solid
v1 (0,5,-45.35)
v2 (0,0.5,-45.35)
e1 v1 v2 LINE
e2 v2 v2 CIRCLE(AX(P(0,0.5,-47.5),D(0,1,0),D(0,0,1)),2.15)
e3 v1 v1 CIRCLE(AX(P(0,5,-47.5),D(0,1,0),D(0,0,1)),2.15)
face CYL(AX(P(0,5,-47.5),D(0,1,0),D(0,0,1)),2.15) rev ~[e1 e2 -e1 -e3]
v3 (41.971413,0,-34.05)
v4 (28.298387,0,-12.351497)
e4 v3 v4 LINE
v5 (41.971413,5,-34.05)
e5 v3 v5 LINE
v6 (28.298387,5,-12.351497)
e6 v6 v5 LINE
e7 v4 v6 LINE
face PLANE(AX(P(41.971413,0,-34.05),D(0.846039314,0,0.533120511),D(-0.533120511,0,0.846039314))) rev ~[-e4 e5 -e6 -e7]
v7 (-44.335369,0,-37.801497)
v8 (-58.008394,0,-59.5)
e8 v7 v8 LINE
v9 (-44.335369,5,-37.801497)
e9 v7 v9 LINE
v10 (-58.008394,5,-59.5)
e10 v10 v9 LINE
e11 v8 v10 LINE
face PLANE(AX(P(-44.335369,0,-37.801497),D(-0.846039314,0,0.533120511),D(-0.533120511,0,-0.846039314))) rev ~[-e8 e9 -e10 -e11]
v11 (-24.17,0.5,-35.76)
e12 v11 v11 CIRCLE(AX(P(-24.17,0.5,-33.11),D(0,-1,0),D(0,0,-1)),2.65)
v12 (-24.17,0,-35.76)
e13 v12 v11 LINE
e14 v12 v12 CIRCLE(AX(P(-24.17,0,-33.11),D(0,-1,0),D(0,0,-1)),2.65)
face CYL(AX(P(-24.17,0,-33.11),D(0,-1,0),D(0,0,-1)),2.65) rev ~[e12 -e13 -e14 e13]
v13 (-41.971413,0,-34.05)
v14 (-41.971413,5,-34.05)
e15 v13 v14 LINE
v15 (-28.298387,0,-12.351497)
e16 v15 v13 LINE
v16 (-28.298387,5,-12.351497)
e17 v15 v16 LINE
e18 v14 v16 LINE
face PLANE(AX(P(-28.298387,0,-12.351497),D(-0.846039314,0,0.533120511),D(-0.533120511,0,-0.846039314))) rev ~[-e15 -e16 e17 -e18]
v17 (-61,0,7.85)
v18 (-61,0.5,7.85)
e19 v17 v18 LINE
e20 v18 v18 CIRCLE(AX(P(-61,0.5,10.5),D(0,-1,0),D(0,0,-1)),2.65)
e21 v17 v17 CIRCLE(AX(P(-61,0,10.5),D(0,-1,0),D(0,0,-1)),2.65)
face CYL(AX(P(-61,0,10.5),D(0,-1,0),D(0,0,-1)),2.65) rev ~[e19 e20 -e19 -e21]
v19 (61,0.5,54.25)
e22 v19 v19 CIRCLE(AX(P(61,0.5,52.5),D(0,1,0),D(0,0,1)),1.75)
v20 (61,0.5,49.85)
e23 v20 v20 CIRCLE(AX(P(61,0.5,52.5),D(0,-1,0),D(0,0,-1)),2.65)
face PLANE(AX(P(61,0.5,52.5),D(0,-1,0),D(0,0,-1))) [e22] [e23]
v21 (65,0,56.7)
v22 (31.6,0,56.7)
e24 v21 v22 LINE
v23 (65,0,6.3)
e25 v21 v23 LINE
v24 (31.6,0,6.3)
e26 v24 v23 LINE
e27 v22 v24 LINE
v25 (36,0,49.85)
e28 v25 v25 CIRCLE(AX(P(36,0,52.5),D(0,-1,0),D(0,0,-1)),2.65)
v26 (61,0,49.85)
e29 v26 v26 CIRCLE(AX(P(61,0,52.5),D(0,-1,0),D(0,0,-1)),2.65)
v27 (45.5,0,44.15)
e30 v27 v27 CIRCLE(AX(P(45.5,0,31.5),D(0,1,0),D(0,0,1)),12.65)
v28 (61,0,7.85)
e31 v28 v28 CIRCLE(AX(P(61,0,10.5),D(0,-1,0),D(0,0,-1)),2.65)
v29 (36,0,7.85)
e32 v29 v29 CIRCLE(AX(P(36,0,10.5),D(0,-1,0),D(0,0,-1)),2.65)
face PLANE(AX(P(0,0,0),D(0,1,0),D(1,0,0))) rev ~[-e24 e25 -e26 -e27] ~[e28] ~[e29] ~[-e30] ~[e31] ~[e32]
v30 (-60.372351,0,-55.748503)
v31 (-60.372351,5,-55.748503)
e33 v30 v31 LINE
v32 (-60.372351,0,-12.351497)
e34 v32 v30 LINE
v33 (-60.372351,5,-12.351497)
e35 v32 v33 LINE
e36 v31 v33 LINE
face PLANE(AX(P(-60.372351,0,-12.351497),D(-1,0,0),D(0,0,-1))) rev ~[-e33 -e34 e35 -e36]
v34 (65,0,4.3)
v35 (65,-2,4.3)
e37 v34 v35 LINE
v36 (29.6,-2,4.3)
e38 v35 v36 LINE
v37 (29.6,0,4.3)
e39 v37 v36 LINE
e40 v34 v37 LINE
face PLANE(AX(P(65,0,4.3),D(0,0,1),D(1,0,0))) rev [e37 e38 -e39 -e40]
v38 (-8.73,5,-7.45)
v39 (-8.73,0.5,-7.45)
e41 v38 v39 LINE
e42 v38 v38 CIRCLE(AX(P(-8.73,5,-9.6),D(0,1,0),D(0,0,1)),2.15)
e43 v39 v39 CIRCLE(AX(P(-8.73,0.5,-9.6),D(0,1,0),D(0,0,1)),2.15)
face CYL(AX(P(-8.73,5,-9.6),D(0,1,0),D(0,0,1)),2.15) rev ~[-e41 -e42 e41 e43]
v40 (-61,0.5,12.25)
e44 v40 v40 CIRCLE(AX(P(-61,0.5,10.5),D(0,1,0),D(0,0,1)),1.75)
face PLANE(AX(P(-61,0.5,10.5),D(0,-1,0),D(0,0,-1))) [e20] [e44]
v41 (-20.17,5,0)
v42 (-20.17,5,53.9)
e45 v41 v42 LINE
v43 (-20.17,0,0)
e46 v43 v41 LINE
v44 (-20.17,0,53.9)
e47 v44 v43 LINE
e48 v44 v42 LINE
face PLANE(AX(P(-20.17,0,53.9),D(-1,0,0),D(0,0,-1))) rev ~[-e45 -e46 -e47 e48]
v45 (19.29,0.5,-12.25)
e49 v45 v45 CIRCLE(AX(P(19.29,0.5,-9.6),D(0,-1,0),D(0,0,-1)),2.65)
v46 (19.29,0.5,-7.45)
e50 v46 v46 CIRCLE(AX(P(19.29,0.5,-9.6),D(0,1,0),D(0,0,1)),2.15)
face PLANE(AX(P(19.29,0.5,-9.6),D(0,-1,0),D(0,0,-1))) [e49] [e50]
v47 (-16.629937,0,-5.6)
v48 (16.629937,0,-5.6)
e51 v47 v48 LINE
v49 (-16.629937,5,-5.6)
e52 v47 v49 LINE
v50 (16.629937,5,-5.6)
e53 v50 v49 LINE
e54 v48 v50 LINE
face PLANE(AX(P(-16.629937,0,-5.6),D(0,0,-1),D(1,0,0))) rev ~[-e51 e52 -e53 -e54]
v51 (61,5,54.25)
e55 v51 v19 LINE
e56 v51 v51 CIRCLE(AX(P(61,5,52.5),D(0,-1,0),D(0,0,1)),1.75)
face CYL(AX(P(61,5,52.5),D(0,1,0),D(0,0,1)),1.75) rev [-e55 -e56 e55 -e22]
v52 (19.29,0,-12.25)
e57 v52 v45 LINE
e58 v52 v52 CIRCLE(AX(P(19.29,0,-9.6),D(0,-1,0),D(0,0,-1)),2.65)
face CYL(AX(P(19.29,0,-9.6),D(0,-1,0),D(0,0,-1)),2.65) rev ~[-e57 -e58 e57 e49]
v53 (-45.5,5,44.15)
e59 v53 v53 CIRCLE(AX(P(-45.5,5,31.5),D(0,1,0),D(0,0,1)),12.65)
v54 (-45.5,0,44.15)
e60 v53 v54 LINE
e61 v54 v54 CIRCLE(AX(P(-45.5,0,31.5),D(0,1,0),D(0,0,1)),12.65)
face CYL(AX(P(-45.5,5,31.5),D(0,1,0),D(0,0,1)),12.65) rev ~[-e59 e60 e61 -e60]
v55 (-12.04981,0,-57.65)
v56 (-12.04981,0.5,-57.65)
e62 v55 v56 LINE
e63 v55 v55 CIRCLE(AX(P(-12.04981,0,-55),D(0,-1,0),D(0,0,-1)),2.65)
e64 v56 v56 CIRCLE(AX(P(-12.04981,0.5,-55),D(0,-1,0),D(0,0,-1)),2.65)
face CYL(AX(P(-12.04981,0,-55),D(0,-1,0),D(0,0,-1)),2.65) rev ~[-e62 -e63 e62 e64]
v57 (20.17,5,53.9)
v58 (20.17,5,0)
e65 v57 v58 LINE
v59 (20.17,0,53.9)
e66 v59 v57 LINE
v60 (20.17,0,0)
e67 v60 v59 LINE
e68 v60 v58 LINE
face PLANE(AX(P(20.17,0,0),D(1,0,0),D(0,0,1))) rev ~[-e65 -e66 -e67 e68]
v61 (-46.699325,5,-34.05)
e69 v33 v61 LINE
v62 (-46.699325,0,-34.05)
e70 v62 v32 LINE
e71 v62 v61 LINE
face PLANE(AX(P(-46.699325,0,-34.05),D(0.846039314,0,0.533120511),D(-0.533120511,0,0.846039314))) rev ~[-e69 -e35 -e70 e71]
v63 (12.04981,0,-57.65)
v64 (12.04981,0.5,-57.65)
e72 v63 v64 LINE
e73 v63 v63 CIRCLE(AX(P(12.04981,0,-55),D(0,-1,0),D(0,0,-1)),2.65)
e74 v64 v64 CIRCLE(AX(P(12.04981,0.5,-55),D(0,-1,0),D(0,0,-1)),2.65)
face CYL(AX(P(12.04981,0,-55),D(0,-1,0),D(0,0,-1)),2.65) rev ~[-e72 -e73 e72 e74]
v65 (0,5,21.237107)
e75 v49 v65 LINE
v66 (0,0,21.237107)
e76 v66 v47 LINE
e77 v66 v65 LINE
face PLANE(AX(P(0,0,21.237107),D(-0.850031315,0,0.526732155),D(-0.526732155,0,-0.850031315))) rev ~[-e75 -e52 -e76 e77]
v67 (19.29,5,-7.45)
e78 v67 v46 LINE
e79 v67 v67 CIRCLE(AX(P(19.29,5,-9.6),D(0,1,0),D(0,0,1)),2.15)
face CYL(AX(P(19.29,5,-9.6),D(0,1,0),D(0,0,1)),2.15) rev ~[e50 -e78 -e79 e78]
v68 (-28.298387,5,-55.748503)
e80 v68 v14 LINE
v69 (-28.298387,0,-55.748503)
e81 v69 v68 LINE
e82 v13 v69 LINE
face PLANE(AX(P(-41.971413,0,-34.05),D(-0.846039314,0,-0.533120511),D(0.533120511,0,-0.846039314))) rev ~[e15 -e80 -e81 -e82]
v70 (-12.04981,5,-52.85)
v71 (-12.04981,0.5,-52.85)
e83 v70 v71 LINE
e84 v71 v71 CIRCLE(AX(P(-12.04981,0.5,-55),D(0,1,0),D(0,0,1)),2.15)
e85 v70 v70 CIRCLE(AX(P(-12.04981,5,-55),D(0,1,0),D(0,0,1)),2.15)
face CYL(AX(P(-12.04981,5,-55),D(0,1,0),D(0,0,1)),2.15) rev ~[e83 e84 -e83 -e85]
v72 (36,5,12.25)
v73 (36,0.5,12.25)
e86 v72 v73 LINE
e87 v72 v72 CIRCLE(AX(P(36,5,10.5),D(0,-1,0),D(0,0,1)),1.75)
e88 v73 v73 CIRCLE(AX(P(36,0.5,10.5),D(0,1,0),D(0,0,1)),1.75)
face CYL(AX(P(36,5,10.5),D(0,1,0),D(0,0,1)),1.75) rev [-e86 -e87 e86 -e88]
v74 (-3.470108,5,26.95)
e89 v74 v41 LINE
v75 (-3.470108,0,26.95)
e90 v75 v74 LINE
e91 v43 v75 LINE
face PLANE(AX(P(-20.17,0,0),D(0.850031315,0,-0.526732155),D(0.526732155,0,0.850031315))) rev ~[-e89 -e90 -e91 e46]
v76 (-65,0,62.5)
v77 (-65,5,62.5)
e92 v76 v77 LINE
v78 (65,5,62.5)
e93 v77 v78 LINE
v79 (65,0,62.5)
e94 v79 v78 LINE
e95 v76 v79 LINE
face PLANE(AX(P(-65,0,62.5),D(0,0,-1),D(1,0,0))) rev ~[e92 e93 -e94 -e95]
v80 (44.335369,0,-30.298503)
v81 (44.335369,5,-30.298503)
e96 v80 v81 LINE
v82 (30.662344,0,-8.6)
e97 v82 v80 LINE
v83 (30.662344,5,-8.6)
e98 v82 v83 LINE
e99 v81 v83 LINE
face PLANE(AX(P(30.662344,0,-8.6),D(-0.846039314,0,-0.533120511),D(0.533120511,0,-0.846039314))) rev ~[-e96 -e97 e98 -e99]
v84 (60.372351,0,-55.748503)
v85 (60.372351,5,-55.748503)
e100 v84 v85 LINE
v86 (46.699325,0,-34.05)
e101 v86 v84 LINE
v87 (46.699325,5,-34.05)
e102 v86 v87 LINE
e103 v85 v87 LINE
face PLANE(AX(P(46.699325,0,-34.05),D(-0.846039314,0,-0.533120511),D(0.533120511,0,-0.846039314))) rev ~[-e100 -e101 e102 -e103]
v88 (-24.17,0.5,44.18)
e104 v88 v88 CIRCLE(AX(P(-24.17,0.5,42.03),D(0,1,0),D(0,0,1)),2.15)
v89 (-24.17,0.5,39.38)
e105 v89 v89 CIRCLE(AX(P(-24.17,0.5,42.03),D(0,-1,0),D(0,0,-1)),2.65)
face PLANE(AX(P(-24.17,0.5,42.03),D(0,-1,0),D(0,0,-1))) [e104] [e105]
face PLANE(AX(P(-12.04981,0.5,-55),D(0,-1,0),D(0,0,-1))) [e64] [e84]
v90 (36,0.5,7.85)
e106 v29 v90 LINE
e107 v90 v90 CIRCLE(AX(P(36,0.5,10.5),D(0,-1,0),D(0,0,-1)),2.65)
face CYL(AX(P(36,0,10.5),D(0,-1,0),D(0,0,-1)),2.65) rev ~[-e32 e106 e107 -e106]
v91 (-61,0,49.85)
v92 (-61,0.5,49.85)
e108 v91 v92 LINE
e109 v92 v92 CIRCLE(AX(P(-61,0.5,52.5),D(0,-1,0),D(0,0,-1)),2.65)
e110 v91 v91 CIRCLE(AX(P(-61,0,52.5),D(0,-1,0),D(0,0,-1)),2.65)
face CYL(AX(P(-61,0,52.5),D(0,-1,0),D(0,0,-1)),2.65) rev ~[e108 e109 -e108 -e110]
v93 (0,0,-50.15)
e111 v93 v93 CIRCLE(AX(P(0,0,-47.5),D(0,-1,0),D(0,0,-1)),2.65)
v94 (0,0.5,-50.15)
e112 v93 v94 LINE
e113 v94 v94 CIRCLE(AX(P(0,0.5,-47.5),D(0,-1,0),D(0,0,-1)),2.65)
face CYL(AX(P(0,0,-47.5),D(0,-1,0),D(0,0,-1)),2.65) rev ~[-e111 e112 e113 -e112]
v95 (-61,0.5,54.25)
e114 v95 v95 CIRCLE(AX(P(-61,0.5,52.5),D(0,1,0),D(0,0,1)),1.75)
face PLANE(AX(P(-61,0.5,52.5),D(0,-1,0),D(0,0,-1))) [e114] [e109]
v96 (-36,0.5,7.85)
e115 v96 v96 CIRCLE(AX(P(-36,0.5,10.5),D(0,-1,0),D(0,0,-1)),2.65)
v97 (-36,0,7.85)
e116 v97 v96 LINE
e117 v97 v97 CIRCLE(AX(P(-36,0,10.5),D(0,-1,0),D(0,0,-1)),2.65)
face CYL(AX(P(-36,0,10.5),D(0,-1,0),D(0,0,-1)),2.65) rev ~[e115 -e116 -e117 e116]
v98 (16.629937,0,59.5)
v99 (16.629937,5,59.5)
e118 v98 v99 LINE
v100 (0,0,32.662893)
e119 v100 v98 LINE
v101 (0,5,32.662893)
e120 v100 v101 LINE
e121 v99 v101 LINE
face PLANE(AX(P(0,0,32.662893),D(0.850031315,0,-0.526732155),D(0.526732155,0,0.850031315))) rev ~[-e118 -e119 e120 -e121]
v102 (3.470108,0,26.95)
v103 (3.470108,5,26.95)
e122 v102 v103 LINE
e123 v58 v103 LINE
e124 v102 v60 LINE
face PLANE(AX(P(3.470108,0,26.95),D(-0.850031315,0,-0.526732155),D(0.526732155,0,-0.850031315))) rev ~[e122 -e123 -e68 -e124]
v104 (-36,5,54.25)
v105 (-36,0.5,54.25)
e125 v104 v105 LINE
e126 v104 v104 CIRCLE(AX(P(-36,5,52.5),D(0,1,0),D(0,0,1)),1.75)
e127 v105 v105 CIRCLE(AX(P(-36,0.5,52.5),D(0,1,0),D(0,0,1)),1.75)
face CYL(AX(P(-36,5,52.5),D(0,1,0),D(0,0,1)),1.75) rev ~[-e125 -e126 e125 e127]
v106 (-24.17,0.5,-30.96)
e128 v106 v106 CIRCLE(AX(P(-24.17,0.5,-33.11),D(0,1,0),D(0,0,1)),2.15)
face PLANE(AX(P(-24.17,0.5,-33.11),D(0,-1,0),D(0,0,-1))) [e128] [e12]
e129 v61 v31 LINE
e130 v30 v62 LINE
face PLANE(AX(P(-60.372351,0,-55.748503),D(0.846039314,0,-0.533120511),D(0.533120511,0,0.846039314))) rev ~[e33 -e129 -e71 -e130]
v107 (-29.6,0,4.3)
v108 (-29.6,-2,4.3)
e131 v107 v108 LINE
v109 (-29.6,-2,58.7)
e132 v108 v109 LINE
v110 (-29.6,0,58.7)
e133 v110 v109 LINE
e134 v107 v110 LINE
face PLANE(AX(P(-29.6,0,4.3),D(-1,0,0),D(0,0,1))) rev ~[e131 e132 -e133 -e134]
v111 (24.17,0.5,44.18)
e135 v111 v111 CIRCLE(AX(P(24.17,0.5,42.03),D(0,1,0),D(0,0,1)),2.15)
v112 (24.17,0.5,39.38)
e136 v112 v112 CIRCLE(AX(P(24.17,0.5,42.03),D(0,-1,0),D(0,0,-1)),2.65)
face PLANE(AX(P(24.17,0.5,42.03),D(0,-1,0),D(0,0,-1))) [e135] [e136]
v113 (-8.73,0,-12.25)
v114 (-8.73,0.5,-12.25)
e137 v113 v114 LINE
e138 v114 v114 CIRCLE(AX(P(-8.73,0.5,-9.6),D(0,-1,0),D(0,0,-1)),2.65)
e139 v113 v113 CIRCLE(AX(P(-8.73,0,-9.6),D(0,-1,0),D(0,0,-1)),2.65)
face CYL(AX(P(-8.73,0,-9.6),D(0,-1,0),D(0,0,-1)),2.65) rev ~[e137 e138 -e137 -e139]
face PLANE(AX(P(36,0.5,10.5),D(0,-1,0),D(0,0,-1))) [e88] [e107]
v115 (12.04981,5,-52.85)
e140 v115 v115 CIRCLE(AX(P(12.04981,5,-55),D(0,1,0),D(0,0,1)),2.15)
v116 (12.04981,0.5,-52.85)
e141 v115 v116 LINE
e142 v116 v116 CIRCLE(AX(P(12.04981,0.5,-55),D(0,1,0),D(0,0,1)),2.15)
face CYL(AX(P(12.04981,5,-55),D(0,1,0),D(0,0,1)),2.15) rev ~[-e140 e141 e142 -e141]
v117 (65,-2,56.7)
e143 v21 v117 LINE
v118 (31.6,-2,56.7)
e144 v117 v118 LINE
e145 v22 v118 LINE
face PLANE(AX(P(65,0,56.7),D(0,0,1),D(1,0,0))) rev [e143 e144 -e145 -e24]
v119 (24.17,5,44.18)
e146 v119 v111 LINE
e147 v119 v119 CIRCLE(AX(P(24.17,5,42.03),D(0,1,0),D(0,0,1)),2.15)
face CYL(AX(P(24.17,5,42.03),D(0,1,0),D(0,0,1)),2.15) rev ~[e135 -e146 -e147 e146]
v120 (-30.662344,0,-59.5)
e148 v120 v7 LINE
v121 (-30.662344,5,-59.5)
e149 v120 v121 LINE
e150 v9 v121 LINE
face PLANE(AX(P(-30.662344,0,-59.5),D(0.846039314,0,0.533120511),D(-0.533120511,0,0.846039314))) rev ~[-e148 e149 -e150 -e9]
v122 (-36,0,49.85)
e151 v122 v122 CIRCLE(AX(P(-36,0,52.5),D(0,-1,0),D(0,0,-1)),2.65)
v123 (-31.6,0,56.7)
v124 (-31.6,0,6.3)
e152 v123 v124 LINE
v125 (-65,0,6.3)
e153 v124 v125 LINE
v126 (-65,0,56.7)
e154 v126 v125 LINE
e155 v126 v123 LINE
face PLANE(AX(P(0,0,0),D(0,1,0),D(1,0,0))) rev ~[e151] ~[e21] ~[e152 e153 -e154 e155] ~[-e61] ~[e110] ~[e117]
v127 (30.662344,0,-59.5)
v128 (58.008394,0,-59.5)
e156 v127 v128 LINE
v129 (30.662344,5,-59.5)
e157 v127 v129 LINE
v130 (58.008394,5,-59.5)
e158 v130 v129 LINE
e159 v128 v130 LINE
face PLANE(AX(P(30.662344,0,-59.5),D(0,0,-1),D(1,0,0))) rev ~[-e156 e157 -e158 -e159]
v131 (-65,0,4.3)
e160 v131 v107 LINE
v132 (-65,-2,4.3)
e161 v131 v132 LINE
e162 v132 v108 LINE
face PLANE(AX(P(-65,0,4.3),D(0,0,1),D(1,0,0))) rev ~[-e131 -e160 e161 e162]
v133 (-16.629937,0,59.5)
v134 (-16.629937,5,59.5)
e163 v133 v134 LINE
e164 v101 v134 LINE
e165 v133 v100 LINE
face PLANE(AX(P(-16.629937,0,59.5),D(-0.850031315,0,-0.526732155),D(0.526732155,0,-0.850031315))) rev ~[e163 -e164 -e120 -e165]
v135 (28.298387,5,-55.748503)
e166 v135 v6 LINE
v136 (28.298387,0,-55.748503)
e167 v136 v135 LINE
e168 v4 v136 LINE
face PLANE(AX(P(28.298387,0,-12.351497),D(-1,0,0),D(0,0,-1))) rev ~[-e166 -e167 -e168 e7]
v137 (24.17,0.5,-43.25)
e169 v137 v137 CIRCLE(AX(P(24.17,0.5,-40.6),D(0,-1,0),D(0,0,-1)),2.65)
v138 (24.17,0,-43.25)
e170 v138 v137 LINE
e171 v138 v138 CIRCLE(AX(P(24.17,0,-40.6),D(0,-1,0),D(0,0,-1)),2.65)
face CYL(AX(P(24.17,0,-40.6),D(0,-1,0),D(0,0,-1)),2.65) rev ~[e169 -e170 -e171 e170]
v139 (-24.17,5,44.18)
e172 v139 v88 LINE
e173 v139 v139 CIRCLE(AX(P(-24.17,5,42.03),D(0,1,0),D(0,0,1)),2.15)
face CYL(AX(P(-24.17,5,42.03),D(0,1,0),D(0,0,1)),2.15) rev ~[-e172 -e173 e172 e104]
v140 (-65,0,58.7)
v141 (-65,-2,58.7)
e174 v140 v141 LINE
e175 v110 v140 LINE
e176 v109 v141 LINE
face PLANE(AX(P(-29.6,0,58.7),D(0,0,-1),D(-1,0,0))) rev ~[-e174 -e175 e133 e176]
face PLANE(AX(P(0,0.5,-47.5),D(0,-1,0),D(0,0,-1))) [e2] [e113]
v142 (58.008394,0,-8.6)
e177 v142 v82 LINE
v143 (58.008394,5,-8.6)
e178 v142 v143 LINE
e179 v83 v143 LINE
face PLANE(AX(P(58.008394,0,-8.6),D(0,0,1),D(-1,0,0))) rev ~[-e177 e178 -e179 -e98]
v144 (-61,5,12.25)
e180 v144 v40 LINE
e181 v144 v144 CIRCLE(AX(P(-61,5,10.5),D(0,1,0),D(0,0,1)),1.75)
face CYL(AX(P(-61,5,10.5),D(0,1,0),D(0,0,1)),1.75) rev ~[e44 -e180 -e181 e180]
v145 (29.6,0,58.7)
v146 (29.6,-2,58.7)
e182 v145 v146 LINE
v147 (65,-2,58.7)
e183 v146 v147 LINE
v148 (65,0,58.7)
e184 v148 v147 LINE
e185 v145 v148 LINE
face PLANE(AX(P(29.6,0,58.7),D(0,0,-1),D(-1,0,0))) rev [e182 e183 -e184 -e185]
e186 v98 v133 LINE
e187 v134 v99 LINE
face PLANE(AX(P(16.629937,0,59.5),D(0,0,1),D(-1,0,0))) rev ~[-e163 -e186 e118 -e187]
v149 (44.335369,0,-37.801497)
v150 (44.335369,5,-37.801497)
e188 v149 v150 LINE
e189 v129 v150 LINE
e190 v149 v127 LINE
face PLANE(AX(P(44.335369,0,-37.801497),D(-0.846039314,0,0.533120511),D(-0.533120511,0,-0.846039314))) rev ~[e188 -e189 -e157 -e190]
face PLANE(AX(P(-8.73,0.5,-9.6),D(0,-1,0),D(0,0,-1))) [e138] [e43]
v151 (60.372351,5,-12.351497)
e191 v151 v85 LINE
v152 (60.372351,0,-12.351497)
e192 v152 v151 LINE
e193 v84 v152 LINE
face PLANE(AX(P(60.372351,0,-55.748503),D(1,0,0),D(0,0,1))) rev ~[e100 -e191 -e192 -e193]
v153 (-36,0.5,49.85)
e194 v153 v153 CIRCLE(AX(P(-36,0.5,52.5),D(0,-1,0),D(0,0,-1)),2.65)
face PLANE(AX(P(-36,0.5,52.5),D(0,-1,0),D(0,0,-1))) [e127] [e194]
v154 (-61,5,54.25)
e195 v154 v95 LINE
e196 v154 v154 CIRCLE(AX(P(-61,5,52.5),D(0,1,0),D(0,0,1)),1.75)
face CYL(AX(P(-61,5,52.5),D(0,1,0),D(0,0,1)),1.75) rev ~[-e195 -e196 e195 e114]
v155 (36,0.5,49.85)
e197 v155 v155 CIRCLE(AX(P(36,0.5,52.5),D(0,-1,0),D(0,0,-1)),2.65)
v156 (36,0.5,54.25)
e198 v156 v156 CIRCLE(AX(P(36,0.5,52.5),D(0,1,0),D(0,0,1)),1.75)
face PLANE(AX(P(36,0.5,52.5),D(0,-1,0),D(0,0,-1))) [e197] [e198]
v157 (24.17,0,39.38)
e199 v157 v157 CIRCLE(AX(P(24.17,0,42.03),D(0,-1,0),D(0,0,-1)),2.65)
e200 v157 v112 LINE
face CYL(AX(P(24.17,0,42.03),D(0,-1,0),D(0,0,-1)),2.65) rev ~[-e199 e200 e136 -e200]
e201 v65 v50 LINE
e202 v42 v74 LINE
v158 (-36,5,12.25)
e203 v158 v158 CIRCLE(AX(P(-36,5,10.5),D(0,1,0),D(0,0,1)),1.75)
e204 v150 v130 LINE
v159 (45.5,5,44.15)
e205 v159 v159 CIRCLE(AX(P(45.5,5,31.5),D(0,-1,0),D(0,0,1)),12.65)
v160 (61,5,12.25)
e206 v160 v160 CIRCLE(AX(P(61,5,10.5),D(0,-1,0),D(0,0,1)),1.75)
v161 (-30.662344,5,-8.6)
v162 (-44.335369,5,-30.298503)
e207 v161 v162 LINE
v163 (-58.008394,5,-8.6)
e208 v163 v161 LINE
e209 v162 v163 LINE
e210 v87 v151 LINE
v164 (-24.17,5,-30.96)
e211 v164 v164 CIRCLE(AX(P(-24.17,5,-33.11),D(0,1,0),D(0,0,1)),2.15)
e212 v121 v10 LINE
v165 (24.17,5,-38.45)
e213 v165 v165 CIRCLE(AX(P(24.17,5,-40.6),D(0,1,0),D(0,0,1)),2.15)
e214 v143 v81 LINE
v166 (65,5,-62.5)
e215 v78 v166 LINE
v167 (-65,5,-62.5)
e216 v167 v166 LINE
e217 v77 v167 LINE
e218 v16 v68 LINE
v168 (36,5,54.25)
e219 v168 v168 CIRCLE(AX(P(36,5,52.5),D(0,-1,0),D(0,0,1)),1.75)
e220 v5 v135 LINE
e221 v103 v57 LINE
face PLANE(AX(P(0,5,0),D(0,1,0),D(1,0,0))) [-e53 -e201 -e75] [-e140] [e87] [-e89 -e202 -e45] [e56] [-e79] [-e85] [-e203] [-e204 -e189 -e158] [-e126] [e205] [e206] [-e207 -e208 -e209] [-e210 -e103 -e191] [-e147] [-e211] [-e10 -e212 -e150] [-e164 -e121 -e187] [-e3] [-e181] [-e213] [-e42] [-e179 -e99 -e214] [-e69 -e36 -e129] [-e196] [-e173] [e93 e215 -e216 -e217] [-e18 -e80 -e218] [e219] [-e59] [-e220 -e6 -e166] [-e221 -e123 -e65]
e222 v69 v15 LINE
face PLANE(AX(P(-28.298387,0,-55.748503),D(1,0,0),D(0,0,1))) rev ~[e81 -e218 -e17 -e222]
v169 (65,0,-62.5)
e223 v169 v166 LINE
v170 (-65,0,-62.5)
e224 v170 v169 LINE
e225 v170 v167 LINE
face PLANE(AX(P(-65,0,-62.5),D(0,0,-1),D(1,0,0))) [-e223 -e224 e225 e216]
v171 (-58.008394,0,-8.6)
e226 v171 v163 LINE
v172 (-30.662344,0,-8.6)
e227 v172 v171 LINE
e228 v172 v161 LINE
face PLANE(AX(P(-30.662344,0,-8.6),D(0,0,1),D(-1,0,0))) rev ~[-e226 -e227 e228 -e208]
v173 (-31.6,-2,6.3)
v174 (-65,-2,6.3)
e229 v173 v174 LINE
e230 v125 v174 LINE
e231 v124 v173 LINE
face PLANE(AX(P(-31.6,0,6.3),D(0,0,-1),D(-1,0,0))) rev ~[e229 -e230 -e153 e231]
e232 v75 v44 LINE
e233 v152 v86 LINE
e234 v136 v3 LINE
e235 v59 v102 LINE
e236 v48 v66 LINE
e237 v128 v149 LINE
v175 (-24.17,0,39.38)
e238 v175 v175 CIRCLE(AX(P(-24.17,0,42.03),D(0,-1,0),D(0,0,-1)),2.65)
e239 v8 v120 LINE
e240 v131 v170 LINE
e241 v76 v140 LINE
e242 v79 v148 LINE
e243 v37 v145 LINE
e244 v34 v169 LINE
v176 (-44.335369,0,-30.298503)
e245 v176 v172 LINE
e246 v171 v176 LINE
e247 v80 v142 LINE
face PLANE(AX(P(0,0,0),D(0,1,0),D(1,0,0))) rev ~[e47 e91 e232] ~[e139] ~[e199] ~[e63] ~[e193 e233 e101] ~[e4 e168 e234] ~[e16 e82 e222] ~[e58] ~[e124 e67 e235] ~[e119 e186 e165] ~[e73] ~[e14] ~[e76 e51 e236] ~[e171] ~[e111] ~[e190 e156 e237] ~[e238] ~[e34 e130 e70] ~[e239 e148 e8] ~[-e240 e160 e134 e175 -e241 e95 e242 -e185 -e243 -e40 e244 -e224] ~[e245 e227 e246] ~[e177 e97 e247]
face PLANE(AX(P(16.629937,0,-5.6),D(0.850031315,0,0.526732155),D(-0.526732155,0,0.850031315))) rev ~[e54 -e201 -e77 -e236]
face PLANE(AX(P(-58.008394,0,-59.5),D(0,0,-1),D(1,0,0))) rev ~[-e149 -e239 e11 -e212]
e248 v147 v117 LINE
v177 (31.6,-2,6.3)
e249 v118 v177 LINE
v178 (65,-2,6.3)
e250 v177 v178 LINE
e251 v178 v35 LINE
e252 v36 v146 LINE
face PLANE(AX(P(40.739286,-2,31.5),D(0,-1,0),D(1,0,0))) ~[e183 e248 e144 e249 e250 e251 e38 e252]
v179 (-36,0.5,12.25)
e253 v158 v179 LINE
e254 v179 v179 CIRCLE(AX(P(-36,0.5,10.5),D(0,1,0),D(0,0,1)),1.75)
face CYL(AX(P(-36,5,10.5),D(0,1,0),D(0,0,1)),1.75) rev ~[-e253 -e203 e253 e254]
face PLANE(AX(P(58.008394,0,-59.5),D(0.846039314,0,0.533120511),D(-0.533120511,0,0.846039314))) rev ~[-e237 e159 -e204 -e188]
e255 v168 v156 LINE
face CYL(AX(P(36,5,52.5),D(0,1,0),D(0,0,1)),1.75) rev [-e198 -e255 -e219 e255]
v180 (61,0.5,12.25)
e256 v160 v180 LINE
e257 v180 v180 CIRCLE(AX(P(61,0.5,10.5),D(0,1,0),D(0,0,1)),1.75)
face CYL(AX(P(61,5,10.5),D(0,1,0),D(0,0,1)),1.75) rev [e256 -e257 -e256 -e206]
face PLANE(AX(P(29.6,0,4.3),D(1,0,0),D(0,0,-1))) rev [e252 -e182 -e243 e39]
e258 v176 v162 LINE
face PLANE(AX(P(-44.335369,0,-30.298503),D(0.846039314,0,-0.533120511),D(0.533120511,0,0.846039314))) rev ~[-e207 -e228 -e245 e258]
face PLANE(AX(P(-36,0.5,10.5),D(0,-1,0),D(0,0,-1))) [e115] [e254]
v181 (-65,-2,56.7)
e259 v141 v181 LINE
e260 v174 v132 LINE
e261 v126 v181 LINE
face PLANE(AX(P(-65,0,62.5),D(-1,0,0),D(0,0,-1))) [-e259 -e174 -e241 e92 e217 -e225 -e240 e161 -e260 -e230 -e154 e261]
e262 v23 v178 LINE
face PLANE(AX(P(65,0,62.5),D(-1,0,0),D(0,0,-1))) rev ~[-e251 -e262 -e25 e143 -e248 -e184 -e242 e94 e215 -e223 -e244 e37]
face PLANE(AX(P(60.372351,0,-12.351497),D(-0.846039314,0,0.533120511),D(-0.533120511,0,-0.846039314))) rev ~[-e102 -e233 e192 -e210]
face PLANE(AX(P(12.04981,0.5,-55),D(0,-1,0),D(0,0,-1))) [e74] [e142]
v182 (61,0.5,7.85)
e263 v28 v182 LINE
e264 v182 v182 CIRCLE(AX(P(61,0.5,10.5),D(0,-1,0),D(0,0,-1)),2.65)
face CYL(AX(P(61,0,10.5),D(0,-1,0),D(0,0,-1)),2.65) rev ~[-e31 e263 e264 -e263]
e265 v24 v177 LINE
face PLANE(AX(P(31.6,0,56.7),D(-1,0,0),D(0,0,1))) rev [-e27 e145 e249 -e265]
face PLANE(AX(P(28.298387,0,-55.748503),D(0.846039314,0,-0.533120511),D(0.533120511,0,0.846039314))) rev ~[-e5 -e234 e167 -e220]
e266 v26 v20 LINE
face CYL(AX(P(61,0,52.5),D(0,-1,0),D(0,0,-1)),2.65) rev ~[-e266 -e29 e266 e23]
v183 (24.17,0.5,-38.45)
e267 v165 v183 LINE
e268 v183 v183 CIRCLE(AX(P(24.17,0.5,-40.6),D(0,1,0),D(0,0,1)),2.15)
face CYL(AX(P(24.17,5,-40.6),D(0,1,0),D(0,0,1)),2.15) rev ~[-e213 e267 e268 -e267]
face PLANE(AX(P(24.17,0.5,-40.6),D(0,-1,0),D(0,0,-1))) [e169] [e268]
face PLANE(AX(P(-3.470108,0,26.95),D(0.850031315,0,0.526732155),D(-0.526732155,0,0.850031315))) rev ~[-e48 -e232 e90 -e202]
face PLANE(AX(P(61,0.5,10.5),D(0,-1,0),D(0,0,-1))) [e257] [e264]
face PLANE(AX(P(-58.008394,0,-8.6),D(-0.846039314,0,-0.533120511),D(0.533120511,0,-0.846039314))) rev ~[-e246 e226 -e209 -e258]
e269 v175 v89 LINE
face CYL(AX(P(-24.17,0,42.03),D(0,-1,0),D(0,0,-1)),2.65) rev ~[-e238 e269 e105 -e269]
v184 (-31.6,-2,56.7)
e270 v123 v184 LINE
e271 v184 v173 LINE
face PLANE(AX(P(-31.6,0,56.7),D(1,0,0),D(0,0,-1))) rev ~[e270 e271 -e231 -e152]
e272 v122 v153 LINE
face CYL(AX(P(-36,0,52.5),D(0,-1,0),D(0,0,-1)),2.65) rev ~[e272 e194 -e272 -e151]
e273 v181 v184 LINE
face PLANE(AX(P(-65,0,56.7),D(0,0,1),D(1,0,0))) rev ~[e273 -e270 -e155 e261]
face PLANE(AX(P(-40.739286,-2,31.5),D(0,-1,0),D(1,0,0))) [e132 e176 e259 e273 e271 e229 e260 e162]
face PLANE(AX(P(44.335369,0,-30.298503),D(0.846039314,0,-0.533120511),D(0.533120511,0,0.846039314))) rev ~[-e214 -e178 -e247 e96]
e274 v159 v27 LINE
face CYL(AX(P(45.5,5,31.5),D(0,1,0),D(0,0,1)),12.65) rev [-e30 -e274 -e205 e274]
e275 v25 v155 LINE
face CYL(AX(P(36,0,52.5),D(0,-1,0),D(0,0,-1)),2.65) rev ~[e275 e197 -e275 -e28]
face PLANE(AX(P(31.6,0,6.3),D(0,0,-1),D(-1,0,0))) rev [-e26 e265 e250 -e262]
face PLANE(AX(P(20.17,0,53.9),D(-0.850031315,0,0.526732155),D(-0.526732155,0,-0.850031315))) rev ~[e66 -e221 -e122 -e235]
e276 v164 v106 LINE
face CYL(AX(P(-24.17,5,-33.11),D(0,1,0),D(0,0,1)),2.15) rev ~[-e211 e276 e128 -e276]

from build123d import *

# Parameters (mm, degrees)
SKETCH1_W           = 130
SKETCH1_H           = 125
BOSS_EXTRUDE1_DEPTH = 5
SKETCH2_R           = 1.75
SKETCH2_R_2         = 12.65
CUT_EXTRUDE1_DEPTH  = 10
SKETCH3_R           = 2.15
CUT_EXTRUDE2_DEPTH  = 10
SKETCH4_R           = 2.15
CUT_EXTRUDE3_DEPTH  = 10
BOSS_EXTRUDE2_DEPTH = 2
SKETCH6_R           = 2.65
CUT_EXTRUDE4_DEPTH  = 0.5
CUT_EXTRUDE5_DEPTH  = 91.311959341
CUT_EXTRUDE6_DEPTH  = 91.311959341


with BuildPart() as part:
    # Sketch1 → Boss-Extrude1 (new body)
    with BuildSketch(Plane(origin=(0, 0, 0), x_dir=(1, 0, 0), z_dir=(0, 1, 0))):
        Rectangle(SKETCH1_W, SKETCH1_H)
    extrude(amount=BOSS_EXTRUDE1_DEPTH)

    # Sketch2 → Cut-Extrude1 (cut)
    with BuildSketch(Plane(origin=(0, 5, 0), x_dir=(1, 0, 0), z_dir=(0, 1, 0))):
        with Locations(Location((-61, -52.5, 0), (0, 0, 270))):
            Circle(SKETCH2_R)
        with Locations(Location((-36, -52.5, 0), (0, 0, 270))):
            Circle(SKETCH2_R)
        with Locations(Location((-36, -10.5, 0), (0, 0, 270))):
            Circle(SKETCH2_R)
        with Locations(Location((-61, -10.5, 0), (0, 0, 270))):
            Circle(SKETCH2_R)
        with Locations(Location((-45.5, -31.5, 0), (0, 0, 270))):
            Circle(SKETCH2_R_2)
    cut_extrude1 = extrude(amount=-CUT_EXTRUDE1_DEPTH, mode=Mode.SUBTRACT)

    # Mirror3: Cut-Extrude1 across plane
    add(cut_extrude1.mirror(Plane.ZY), mode=Mode.SUBTRACT)

    # Sketch3 → Cut-Extrude2 (cut)
    with BuildSketch(Plane(origin=(0, 5, 0), x_dir=(1, 0, 0), z_dir=(0, 1, 0))):
        with Locations(Location((-24.17, -42.03, 0), (0, 0, 270))):
            Circle(SKETCH3_R)
        with Locations(Location((24.17, -42.03, 0), (0, 0, 270))):
            Circle(SKETCH3_R)
        with Locations(Location((-8.73, 9.6, 0), (0, 0, 270))):
            Circle(SKETCH3_R)
        with Locations(Location((19.29, 9.6, 0), (0, 0, 270))):
            Circle(SKETCH3_R)
        with Locations(Location((-24.17, 33.11, 0), (0, 0, 270))):
            Circle(SKETCH3_R)
        with Locations(Location((24.17, 40.6, 0), (0, 0, 270))):
            Circle(SKETCH3_R)
    extrude(amount=-CUT_EXTRUDE2_DEPTH, mode=Mode.SUBTRACT)

    # Sketch4 → Cut-Extrude3 (cut)
    with BuildSketch(Plane(origin=(0, 5, 0), x_dir=(1, 0, 0), z_dir=(0, 1, 0))):
        with Locations(Location((0, 47.5, 0), (0, 0, 270))):
            Circle(SKETCH4_R)
        with Locations(Location((12.049810205, 55, 0), (0, 0, 270))):
            Circle(SKETCH4_R)
        with Locations(Location((-12.049810205, 55, 0), (0, 0, 270))):
            Circle(SKETCH4_R)
    extrude(amount=-CUT_EXTRUDE3_DEPTH, mode=Mode.SUBTRACT)

    # Sketch5 → Boss-Extrude2 (add)
    with BuildSketch(Plane.XZ):
        Polygon((-65, 58.7), (-65, 56.7), (-31.6, 56.7), (-31.6, 6.3), (-65, 6.3), (-65, 4.3), (-29.6, 4.3), (-29.6, 58.7), align=None)
    boss_extrude2 = extrude(amount=BOSS_EXTRUDE2_DEPTH)

    # Mirror5: Boss-Extrude2 across plane
    add(boss_extrude2.mirror(Plane.ZY))

    # Sketch6 → Cut-Extrude4 (cut)
    with BuildSketch(Plane.XZ):
        with Locations(Location((-12.049810205, -55, 0), (0, 0, 270))):
            Circle(SKETCH6_R)
        with Locations(Location((12.049810205, -55, 0), (0, 0, 270))):
            Circle(SKETCH6_R)
        with Locations(Location((0, -47.5, 0), (0, 0, 270))):
            Circle(SKETCH6_R)
        with Locations(Location((24.17, -40.6, 0), (0, 0, 270))):
            Circle(SKETCH6_R)
        with Locations(Location((-24.17, -33.11, 0), (0, 0, 270))):
            Circle(SKETCH6_R)
        with Locations(Location((-8.73, -9.6, 0), (0, 0, 270))):
            Circle(SKETCH6_R)
        with Locations(Location((19.29, -9.6, 0), (0, 0, 270))):
            Circle(SKETCH6_R)
        with Locations(Location((-61, 10.5, 0), (0, 0, 270))):
            Circle(SKETCH6_R)
        with Locations(Location((-61, 52.5, 0), (0, 0, 270))):
            Circle(SKETCH6_R)
        with Locations(Location((-36, 52.5, 0), (0, 0, 270))):
            Circle(SKETCH6_R)
        with Locations(Location((-36, 10.5, 0), (0, 0, 270))):
            Circle(SKETCH6_R)
        with Locations(Location((-24.17, 42.03, 0), (0, 0, 270))):
            Circle(SKETCH6_R)
        with Locations(Location((24.17, 42.03, 0), (0, 0, 270))):
            Circle(SKETCH6_R)
        with Locations(Location((36, 52.5, 0), (0, 0, 270))):
            Circle(SKETCH6_R)
        with Locations(Location((36, 10.5, 0), (0, 0, 270))):
            Circle(SKETCH6_R)
        with Locations(Location((61, 10.5, 0), (0, 0, 270))):
            Circle(SKETCH6_R)
        with Locations(Location((61, 52.5, 0), (0, 0, 270))):
            Circle(SKETCH6_R)
    extrude(amount=-CUT_EXTRUDE4_DEPTH, mode=Mode.SUBTRACT)

    # Sketch7 → Cut-Extrude5 (cut, through all)
    with BuildSketch(Plane.XZ):
        Polygon((-3.470107527, 26.95), (-20.17, 53.9), (-20.17, 0), align=None)
        Polygon((16.629937096, 59.5), (-16.629937096, 59.5), (0, 32.662892788), align=None)
        Polygon((20.17, 0), (20.17, 53.9), (3.470107527, 26.95), align=None)
        Polygon((0, 21.237107212), (-16.629937096, -5.6), (16.629937096, -5.6), align=None)
    extrude(amount=-CUT_EXTRUDE5_DEPTH, mode=Mode.SUBTRACT)

    # Sketch8 → Cut-Extrude6 (cut, through all)
    with BuildSketch(Plane.XZ):
        Polygon((-46.699325365, -34.05), (-60.372350745, -12.351497003), (-60.372350745, -55.748502997), align=None)
        Polygon((-30.662343644, -8.6), (-58.008394405, -8.6), (-44.335369025, -30.298502997), align=None)
        Polygon((-28.298387304, -55.748502997), (-28.298387304, -12.351497003), (-41.971412684, -34.05), align=None)
        Polygon((-44.335369025, -37.801497003), (-58.008394405, -59.5), (-30.662343644, -59.5), align=None)
        Polygon((41.971412684, -34.05), (28.298387304, -12.351497003), (28.298387304, -55.748502997), align=None)
        Polygon((44.335369025, -30.298502997), (58.008394405, -8.6), (30.662343644, -8.6), align=None)
        Polygon((60.372350745, -12.351497003), (46.699325365, -34.05), (60.372350745, -55.748502997), align=None)
        Polygon((30.662343644, -59.5), (58.008394405, -59.5), (44.335369025, -37.801497003), align=None)
    extrude(amount=-CUT_EXTRUDE6_DEPTH, mode=Mode.SUBTRACT)


solid = part.part
